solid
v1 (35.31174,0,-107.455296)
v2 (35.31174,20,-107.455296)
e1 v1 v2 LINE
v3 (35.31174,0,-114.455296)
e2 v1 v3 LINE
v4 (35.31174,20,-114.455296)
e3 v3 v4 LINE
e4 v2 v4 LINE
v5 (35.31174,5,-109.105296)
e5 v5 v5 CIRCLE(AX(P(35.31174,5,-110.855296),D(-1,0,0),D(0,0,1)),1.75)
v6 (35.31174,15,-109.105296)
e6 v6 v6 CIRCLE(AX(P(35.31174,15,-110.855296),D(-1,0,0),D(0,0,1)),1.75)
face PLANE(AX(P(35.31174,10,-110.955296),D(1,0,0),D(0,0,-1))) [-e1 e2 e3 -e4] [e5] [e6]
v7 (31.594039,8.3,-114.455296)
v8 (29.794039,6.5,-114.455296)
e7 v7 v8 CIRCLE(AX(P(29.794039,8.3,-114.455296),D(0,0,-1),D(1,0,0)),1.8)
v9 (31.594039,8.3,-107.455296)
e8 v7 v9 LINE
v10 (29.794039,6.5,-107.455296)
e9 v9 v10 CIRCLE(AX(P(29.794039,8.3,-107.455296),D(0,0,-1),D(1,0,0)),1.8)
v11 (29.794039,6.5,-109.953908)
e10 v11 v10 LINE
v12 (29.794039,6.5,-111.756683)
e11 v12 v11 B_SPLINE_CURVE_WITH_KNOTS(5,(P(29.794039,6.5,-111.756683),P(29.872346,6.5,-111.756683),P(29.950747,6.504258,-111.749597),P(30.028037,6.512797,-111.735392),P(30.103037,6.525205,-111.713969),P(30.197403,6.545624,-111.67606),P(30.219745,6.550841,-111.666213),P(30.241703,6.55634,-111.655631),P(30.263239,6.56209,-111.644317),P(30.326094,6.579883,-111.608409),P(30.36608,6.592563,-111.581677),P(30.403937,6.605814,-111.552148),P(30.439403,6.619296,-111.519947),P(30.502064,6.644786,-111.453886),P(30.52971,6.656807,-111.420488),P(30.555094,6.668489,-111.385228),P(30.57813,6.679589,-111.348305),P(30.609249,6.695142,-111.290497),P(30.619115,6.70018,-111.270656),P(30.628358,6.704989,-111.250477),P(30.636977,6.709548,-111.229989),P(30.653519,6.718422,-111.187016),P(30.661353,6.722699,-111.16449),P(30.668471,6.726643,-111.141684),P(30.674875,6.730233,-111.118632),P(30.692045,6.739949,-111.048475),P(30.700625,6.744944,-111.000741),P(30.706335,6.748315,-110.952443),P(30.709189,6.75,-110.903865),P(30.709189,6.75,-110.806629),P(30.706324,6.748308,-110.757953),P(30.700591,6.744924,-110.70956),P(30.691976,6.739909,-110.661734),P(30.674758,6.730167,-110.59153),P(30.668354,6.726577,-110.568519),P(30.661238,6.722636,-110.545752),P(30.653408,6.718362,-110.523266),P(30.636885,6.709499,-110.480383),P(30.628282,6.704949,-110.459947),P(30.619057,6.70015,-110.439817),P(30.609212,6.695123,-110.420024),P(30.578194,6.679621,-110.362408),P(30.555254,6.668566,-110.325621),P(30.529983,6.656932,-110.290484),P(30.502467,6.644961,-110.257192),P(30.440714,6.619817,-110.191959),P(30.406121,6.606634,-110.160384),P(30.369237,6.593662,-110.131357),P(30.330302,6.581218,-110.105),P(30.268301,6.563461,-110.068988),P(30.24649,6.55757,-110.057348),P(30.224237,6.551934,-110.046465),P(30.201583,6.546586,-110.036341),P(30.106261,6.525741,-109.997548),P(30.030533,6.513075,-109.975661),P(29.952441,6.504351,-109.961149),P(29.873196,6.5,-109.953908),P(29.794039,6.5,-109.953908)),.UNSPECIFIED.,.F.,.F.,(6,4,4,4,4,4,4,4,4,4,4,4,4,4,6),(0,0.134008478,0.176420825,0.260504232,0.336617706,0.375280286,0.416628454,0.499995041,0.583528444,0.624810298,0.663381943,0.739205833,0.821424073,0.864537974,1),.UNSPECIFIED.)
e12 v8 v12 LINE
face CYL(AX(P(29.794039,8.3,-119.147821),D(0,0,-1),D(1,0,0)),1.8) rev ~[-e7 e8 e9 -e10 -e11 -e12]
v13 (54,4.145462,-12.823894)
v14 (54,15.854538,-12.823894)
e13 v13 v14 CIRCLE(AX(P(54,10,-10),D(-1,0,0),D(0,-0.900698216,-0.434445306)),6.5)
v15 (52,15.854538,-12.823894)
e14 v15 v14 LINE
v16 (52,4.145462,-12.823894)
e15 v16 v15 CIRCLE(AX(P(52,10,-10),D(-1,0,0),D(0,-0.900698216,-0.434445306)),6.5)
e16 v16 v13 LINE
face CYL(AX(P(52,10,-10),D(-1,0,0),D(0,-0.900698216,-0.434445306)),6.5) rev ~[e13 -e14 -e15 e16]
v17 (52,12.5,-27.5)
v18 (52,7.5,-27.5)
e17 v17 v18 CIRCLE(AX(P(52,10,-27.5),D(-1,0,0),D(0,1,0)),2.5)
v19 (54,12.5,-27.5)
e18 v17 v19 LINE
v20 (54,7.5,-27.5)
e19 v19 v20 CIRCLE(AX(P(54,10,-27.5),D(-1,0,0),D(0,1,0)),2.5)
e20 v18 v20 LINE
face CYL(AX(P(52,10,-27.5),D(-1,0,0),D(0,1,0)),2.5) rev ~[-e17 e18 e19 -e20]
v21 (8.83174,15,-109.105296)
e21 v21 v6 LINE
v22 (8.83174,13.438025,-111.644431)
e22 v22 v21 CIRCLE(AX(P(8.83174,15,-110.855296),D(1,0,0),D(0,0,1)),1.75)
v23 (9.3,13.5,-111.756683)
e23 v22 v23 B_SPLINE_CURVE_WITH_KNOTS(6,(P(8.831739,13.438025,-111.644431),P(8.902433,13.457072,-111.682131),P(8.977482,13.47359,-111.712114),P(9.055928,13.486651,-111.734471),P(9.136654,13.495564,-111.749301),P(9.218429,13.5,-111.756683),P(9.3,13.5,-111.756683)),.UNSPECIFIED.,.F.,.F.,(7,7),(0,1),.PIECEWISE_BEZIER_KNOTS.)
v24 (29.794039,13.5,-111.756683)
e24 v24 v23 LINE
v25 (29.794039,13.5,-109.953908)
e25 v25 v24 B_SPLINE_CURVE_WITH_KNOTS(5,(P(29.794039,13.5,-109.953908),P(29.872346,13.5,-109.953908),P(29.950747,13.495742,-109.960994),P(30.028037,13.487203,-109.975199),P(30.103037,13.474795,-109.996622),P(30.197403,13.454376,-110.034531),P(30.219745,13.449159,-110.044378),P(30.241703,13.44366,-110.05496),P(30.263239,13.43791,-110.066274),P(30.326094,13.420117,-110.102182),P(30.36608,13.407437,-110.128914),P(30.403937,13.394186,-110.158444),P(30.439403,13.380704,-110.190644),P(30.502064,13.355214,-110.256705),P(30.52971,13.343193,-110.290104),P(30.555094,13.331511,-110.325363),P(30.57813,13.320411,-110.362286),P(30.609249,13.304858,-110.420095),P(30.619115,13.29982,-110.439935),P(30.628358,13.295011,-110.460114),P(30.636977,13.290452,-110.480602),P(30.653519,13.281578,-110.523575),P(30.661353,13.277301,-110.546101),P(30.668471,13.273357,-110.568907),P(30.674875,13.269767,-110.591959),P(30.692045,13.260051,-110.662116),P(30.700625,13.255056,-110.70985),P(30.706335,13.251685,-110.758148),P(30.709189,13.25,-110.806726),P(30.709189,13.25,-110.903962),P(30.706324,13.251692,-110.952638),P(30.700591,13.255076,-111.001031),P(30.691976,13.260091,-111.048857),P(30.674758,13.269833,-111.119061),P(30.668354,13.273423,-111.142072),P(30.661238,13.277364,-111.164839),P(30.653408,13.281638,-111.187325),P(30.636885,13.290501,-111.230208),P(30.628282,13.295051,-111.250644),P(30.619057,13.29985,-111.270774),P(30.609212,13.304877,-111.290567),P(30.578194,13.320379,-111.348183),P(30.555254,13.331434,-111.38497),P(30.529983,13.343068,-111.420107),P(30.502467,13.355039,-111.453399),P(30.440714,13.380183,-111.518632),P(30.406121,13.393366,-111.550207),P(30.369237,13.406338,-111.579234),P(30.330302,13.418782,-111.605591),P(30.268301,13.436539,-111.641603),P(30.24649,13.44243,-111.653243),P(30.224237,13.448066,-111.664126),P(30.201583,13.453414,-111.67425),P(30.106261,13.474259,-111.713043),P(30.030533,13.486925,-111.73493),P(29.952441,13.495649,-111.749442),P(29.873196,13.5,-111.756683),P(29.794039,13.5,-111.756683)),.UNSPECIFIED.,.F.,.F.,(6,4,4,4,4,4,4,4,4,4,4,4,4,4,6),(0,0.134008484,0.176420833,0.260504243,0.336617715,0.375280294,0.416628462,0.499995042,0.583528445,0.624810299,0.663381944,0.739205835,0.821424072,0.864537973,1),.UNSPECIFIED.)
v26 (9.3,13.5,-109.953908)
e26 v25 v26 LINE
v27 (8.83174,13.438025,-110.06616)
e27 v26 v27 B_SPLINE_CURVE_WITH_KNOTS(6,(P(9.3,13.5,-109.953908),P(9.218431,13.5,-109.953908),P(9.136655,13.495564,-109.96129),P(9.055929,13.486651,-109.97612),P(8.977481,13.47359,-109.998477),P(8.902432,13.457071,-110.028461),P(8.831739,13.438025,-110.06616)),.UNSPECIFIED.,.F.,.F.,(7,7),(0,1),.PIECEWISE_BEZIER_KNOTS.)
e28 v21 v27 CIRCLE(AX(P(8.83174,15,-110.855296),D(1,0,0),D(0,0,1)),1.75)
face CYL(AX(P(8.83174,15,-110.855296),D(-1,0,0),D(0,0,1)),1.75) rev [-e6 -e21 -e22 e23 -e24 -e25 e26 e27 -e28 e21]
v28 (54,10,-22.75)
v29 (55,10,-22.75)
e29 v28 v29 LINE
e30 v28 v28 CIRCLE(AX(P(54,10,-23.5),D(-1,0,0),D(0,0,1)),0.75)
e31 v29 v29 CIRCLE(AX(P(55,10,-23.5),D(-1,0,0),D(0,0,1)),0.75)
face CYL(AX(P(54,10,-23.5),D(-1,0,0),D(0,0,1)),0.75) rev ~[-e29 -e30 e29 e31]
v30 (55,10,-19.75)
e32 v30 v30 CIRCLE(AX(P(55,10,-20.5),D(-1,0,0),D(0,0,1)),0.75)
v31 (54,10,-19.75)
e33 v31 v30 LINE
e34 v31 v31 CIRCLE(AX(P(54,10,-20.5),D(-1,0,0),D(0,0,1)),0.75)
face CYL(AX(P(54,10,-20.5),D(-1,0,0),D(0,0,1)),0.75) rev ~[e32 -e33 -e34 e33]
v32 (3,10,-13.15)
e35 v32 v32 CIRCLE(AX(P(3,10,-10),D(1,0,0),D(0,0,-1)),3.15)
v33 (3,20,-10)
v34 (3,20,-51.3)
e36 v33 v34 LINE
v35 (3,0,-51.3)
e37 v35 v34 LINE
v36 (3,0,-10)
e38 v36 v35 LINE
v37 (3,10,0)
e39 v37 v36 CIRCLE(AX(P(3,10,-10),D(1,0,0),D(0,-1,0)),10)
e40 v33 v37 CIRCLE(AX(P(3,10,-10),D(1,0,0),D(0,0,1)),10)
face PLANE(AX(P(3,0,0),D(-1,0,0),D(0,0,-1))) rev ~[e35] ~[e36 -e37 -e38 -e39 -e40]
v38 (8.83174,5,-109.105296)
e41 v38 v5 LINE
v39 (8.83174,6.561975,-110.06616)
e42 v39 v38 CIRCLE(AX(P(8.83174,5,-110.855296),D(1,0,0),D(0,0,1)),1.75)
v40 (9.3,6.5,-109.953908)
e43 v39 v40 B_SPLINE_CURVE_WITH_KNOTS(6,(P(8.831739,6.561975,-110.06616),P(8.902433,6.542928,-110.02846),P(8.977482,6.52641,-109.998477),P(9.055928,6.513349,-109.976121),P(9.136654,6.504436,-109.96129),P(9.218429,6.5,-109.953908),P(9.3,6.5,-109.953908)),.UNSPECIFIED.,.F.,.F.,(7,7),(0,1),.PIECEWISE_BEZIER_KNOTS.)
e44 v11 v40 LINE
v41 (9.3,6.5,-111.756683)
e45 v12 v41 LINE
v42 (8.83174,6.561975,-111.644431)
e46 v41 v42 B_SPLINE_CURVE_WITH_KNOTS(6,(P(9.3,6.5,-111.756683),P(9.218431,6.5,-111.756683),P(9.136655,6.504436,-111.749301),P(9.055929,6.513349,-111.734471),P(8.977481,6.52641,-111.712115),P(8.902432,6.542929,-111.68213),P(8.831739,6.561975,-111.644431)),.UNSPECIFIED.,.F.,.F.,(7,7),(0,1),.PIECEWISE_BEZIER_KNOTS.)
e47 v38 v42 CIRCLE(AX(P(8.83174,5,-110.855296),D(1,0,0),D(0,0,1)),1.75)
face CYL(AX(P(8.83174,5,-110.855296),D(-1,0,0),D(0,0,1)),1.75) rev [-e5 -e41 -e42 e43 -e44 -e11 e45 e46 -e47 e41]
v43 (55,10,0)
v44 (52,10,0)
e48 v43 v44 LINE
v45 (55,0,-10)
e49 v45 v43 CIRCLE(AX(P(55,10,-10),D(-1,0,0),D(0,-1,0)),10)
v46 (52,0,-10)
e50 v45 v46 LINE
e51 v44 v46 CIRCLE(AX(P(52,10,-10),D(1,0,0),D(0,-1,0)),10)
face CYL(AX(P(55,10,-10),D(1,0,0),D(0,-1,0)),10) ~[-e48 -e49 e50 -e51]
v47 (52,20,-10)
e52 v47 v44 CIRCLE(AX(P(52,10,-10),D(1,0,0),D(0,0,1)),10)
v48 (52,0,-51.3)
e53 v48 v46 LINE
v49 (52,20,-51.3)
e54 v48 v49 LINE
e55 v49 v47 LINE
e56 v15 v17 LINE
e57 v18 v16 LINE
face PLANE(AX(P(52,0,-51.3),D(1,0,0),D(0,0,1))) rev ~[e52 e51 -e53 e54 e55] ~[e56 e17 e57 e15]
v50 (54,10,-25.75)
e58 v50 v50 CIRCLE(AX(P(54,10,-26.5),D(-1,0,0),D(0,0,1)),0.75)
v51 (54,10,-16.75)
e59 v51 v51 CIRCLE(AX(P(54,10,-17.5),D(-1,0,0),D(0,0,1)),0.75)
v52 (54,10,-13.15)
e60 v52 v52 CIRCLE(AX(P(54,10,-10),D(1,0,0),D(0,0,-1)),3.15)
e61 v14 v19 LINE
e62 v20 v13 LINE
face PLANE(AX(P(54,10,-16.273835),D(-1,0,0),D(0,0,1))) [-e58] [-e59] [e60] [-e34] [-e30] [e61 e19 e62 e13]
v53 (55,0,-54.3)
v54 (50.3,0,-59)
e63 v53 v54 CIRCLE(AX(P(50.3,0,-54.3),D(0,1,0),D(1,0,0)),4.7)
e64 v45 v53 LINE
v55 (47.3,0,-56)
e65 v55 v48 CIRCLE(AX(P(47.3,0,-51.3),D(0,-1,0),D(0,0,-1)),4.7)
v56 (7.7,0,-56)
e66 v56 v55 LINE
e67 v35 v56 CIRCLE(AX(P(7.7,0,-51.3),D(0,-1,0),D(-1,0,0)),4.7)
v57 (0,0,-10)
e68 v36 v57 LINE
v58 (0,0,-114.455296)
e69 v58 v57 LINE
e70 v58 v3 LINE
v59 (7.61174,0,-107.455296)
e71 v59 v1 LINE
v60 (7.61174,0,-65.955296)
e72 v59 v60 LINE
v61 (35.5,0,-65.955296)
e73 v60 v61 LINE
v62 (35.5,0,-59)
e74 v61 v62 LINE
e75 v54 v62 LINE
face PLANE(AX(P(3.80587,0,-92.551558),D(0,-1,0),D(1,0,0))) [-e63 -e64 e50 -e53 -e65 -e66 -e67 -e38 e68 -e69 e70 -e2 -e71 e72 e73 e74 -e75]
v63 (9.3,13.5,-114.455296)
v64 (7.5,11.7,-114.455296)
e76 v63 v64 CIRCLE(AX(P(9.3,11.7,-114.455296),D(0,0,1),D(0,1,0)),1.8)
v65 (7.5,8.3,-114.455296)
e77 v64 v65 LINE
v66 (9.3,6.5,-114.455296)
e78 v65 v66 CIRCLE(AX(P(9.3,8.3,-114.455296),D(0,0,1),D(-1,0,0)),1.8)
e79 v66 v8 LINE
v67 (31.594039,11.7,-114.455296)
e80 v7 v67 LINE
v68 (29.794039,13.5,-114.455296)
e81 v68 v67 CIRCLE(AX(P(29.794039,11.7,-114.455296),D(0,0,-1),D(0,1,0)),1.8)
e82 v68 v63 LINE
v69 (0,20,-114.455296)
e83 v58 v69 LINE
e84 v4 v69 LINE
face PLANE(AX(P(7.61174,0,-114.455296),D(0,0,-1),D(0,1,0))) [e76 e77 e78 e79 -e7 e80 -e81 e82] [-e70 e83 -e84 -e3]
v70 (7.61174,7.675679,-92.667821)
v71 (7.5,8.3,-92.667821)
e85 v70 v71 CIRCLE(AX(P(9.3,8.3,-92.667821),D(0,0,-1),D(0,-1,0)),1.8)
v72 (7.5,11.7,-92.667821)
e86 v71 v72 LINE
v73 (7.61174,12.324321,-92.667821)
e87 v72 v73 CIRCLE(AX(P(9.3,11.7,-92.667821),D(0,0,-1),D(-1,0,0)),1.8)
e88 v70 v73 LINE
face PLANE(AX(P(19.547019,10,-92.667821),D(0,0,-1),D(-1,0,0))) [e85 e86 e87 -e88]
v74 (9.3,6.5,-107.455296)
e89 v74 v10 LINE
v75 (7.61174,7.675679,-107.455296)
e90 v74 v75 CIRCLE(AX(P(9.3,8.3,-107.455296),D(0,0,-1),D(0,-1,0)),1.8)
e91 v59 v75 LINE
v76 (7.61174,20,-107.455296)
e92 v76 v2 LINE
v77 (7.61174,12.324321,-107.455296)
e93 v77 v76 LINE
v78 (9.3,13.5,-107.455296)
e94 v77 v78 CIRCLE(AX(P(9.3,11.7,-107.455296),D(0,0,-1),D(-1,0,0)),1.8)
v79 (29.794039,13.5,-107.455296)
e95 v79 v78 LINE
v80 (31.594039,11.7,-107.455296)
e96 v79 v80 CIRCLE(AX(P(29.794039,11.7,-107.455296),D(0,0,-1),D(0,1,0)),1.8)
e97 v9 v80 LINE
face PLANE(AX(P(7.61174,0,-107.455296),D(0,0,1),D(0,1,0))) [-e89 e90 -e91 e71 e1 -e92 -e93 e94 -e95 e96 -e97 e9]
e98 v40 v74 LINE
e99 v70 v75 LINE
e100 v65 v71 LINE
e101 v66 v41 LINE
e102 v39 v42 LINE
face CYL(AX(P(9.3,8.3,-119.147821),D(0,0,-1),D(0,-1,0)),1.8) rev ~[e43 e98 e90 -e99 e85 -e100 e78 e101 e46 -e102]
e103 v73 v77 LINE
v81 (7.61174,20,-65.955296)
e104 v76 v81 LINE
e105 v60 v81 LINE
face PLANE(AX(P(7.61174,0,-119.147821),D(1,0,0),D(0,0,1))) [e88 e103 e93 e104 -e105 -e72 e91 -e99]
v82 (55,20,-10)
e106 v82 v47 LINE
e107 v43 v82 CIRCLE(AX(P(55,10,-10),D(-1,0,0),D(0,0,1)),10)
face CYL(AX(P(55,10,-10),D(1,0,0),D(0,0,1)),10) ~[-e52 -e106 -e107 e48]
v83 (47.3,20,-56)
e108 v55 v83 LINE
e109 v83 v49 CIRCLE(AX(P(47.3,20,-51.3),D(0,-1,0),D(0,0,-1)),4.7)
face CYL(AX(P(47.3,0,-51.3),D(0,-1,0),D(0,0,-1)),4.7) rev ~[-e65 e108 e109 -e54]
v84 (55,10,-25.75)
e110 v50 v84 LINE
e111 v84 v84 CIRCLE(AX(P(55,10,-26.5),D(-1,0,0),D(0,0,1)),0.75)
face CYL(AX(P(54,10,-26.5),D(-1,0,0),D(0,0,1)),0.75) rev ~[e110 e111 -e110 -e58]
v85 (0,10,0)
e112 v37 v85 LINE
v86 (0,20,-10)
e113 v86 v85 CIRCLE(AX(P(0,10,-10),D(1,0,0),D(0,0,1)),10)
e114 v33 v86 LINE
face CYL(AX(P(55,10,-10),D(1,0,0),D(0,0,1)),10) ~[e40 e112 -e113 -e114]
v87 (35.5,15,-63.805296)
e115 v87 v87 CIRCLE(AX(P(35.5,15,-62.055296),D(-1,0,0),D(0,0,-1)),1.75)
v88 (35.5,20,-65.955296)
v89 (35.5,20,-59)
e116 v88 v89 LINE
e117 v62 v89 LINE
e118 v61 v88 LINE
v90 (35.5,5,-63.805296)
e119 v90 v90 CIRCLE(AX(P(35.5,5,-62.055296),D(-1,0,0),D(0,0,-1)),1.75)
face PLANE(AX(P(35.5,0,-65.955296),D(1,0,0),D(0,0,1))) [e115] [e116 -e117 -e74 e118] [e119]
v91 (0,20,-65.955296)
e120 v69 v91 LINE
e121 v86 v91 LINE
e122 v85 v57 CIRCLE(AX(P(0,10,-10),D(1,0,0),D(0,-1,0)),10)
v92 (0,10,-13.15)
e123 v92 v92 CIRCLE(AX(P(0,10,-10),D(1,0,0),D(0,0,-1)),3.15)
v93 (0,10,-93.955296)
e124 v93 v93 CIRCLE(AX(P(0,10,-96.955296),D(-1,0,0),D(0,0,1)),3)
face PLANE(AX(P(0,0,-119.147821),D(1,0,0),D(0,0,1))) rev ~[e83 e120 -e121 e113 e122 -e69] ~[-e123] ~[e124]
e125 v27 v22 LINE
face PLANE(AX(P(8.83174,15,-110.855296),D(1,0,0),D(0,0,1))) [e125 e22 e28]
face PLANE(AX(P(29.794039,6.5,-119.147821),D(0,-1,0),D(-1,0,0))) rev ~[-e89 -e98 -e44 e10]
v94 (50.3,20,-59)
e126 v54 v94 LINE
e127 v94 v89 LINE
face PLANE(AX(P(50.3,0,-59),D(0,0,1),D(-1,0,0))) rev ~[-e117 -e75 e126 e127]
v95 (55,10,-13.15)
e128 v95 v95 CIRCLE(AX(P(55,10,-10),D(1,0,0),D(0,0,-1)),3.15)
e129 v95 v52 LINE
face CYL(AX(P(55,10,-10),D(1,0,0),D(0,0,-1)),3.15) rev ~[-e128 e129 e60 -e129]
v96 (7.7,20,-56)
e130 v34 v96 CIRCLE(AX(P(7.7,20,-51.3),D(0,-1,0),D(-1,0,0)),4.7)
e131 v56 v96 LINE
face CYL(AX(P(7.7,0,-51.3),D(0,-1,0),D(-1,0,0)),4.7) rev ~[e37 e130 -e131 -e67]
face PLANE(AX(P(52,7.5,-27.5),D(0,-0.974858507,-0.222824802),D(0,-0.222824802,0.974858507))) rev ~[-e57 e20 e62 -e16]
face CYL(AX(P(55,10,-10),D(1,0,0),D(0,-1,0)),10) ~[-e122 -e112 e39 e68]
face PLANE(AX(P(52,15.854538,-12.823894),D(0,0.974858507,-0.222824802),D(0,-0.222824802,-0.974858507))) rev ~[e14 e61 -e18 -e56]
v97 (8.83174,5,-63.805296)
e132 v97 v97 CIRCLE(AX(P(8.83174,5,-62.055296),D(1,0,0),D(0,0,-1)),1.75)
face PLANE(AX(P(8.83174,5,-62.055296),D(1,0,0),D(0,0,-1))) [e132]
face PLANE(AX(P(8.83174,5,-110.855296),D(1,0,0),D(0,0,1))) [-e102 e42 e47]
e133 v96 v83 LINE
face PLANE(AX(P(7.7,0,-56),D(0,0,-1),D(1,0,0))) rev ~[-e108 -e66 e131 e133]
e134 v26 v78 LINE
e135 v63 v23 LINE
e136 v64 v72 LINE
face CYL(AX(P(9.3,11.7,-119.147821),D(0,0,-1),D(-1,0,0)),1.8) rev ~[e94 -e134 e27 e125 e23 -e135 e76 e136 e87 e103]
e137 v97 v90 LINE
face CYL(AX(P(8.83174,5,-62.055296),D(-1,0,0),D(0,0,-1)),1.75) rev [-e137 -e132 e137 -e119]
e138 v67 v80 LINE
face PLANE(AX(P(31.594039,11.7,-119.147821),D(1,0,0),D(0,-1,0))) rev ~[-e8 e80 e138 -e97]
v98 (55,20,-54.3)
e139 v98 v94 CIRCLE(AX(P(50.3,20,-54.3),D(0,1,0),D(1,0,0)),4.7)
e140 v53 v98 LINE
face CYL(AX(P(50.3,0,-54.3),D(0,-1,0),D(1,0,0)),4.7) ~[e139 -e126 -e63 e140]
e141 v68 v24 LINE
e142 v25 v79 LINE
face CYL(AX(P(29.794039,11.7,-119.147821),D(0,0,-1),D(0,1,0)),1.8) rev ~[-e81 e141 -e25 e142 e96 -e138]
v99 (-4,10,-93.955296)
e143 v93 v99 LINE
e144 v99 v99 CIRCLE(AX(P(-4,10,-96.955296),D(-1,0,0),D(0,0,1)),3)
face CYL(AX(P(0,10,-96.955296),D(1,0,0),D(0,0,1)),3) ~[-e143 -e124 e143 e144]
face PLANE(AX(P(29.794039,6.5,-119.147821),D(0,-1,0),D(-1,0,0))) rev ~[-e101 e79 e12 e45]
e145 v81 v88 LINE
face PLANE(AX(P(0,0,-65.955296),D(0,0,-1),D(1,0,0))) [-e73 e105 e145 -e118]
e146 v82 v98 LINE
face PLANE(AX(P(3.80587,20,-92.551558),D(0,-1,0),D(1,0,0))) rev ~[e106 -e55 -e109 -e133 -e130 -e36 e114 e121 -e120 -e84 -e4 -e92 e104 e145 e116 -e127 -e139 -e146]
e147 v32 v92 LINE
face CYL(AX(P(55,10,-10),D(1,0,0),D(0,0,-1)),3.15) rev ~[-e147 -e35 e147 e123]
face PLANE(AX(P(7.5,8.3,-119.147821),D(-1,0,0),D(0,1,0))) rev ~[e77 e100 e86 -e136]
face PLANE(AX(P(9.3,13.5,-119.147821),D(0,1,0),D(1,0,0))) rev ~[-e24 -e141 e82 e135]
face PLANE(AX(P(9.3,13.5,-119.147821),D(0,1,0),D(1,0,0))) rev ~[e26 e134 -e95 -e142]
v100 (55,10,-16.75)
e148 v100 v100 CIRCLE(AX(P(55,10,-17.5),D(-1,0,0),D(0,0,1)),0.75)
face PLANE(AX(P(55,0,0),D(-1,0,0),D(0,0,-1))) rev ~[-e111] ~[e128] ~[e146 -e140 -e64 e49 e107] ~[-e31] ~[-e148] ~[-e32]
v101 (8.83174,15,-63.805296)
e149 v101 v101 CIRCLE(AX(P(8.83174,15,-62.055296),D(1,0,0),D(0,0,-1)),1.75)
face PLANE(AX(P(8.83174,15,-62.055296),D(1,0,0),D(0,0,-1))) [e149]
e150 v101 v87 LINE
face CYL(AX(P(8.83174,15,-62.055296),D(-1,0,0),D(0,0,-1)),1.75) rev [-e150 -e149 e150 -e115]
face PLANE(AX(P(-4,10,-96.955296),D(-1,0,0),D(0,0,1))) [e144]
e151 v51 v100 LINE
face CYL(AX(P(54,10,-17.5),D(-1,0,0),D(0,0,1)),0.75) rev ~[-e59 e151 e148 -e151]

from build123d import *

# Parameters (mm, degrees)
AUFSATZ_LINEAR_AUSTRAGEN1_DEPTH      = 20
SCHNITT_LINEAR_AUSTRAGEN1_DEPTH      = 84.102346537
SKIZZE3_R                            = 3.15
SCHNITT_LINEAR_AUSTRAGEN2_DEPTH      = 84.102346537
SCHNITT_LINEAR_AUSTRAGEN3_DEPTH      = 2
SKIZZE5_R                            = 0.75
SCHNITT_LINEAR_AUSTRAGEN4_DEPTH      = 2
SKIZZE6_W                            = 35.5
SKIZZE6_H                            = 6.955295524
AUFSATZ_LINEAR_AUSTRAGEN2_DEPTH      = 20
SKIZZE7_W                            = 7.611739691
SKIZZE7_H                            = 53.192525908
AUFSATZ_LINEAR_AUSTRAGEN3_DEPTH      = 20
SKIZZE8_W                            = 7
SKIZZE8_H                            = 20
AUFSATZ_LINEAR_AUSTRAGEN4_DEPTH      = 27.7
SCHNITT_LINEAR_AUSTRAGEN5_DEPTH      = 26.48
SCHNITT_LINEAR_AUSTRAGEN6_DEPTH      = 6
SCHNITT_LINEAR_AUSTRAGEN6_DEPTH_BACK = 26.48
SKIZZE10_R                           = 1.75
SKIZZE11_R                           = 3
AUFSATZ_LINEAR_AUSTRAGEN5_DEPTH      = 4
SKIZZE12_W                           = 4.692525908
SKIZZE12_H                           = 20
SCHNITT_LINEAR_AUSTRAGEN7_DEPTH      = 130.77615571


with BuildPart() as part:
    # Skizze1 → Aufsatz-Linear austragen1 (new body)
    with BuildSketch(Plane(origin=(0, 0, 0), x_dir=(1, 0, 0), z_dir=(0, 1, 0))):
        with BuildLine():
            Line((0, 59), (0, 0))
            Line((0, 0), (3, 0))
            Line((3, 0), (3, 51.3))
            ThreePointArc((3, 51.3), (4.376598128, 54.623401872), (7.7, 56))
            Line((7.7, 56), (47.3, 56))
            ThreePointArc((47.3, 56), (50.623401872, 54.623401872), (52, 51.3))
            Line((52, 51.3), (52, 0))
            Line((52, 0), (55, 0))
            Line((55, 0), (55, 54.3))
            ThreePointArc((55, 54.3), (53.623401872, 57.623401872), (50.3, 59))
            Line((50.3, 59), (0, 59))
        make_face()
    extrude(amount=AUFSATZ_LINEAR_AUSTRAGEN1_DEPTH)

    # Skizze2 → Schnitt-Linear austragen1 (cut, through all)
    with BuildSketch(Plane(origin=(55, 0, 0), x_dir=(0, 0, -1), z_dir=(1, 0, 0))):
        with BuildLine():
            ThreePointArc((0, 10), (2.928932188, 17.071067812), (10, 20))
            Line((10, 20), (0, 20))
            Line((0, 20), (0, 10))
        make_face()
        with BuildLine():
            ThreePointArc((10, 0), (2.928932188, 2.928932188), (0, 10))
            Line((0, 10), (0, 0))
            Line((0, 0), (10, 0))
        make_face()
    extrude(amount=-SCHNITT_LINEAR_AUSTRAGEN1_DEPTH, mode=Mode.SUBTRACT)

    # Skizze3 → Schnitt-Linear austragen2 (cut, through all)
    with BuildSketch(Plane(origin=(55, 0, 0), x_dir=(0, 0, -1), z_dir=(1, 0, 0))):
        with Locations((10, 10)):
            Circle(SKIZZE3_R)
    extrude(amount=-SCHNITT_LINEAR_AUSTRAGEN2_DEPTH, mode=Mode.SUBTRACT)

    # Skizze4 → Schnitt-Linear austragen3 (cut)
    with BuildSketch(Plane.ZY.offset(-52)):
        with BuildLine():
            Line((-27.5, 7.5), (-12.823894492, 4.145461598))
            ThreePointArc((-12.823894492, 4.145461598), (-3.5, 10), (-12.823894492, 15.854538402))
            Line((-12.823894492, 15.854538402), (-27.5, 12.5))
            ThreePointArc((-27.5, 12.5), (-30, 10), (-27.5, 7.5))
        make_face()
    extrude(amount=-SCHNITT_LINEAR_AUSTRAGEN3_DEPTH, mode=Mode.SUBTRACT)

    # Skizze5 → Schnitt-Linear austragen4 (cut)
    with BuildSketch(Plane.ZY.offset(-54)):
        with Locations((-26.5, 10)):
            Circle(SKIZZE5_R)
        with Locations((-23.5, 10)):
            Circle(SKIZZE5_R)
        with Locations((-20.5, 10)):
            Circle(SKIZZE5_R)
        with Locations((-17.5, 10)):
            Circle(SKIZZE5_R)
    extrude(amount=-SCHNITT_LINEAR_AUSTRAGEN4_DEPTH, mode=Mode.SUBTRACT)

    # Skizze6 → Aufsatz-Linear austragen2 (add)
    with BuildSketch(Plane.XZ):
        with Locations((17.75, -62.477647762)):
            Rectangle(SKIZZE6_W, SKIZZE6_H)
    extrude(amount=-AUFSATZ_LINEAR_AUSTRAGEN2_DEPTH)

    # Skizze7 → Aufsatz-Linear austragen3 (add)
    with BuildSketch(Plane.XZ):
        with Locations((3.805869846, -92.551558478)):
            Rectangle(SKIZZE7_W, SKIZZE7_H)
    extrude(amount=-AUFSATZ_LINEAR_AUSTRAGEN3_DEPTH)

    # Skizze8 → Aufsatz-Linear austragen4 (add)
    with BuildSketch(Plane(origin=(7.611739691, 0, 0), x_dir=(0, 0, -1), z_dir=(1, 0, 0))):
        with Locations((110.955295524, 10)):
            Rectangle(SKIZZE8_W, SKIZZE8_H)
    extrude(amount=AUFSATZ_LINEAR_AUSTRAGEN4_DEPTH)

    # Skizze9 → Schnitt-Linear austragen5 (cut)
    with BuildSketch(Plane(origin=(0, 0, -119.147821432), x_dir=(-1, 0, 0), z_dir=(0, 0, -1))):
        with BuildLine():
            Line((-9.3, 13.5), (-29.794038703, 13.5))
            ThreePointArc((-29.794038703, 13.5), (-31.066830909, 12.972792206), (-31.594038703, 11.7))
            Line((-31.594038703, 11.7), (-31.594038703, 8.3))
            ThreePointArc((-31.594038703, 8.3), (-31.066830909, 7.027207794), (-29.794038703, 6.5))
            Line((-29.794038703, 6.5), (-9.3, 6.5))
            ThreePointArc((-9.3, 6.5), (-8.027207794, 7.027207794), (-7.5, 8.3))
            Line((-7.5, 8.3), (-7.5, 11.7))
            ThreePointArc((-7.5, 11.7), (-8.027207794, 12.972792206), (-9.3, 13.5))
        make_face()
    extrude(amount=-SCHNITT_LINEAR_AUSTRAGEN5_DEPTH, mode=Mode.SUBTRACT)

    # Skizze10 → Schnitt-Linear austragen6 (cut, two sides: drawn at the far end of the back side and taken through both)
    with BuildSketch(Plane(origin=(35.311739691, 0, 0), x_dir=(0, 0, -1), z_dir=(1, 0, 0)).offset(-SCHNITT_LINEAR_AUSTRAGEN6_DEPTH_BACK)):
        with Locations((62.055295524, 15)):
            Circle(SKIZZE10_R)
        with Locations((62.055295524, 5)):
            Circle(SKIZZE10_R)
        with Locations(Location((110.855295524, 5, 0), (0, 0, 180))):
            Circle(SKIZZE10_R)
        with Locations(Location((110.855295524, 15, 0), (0, 0, 180))):
            Circle(SKIZZE10_R)
    extrude(amount=SCHNITT_LINEAR_AUSTRAGEN6_DEPTH + SCHNITT_LINEAR_AUSTRAGEN6_DEPTH_BACK, mode=Mode.SUBTRACT)

    # Skizze11 → Aufsatz-Linear austragen5 (add)
    with BuildSketch(Plane.ZY):
        with Locations((-96.955295524, 10)):
            Circle(SKIZZE11_R)
    extrude(amount=AUFSATZ_LINEAR_AUSTRAGEN5_DEPTH)

    # Skizze12 → Schnitt-Linear austragen7 (cut, through all)
    with BuildSketch(Plane(origin=(7.611739691, 0, 0), x_dir=(0, 0, -1), z_dir=(1, 0, 0))):
        with Locations((116.801558478, 10)):
            Rectangle(SKIZZE12_W, SKIZZE12_H)
    extrude(amount=-SCHNITT_LINEAR_AUSTRAGEN7_DEPTH, mode=Mode.SUBTRACT)


solid = part.part
